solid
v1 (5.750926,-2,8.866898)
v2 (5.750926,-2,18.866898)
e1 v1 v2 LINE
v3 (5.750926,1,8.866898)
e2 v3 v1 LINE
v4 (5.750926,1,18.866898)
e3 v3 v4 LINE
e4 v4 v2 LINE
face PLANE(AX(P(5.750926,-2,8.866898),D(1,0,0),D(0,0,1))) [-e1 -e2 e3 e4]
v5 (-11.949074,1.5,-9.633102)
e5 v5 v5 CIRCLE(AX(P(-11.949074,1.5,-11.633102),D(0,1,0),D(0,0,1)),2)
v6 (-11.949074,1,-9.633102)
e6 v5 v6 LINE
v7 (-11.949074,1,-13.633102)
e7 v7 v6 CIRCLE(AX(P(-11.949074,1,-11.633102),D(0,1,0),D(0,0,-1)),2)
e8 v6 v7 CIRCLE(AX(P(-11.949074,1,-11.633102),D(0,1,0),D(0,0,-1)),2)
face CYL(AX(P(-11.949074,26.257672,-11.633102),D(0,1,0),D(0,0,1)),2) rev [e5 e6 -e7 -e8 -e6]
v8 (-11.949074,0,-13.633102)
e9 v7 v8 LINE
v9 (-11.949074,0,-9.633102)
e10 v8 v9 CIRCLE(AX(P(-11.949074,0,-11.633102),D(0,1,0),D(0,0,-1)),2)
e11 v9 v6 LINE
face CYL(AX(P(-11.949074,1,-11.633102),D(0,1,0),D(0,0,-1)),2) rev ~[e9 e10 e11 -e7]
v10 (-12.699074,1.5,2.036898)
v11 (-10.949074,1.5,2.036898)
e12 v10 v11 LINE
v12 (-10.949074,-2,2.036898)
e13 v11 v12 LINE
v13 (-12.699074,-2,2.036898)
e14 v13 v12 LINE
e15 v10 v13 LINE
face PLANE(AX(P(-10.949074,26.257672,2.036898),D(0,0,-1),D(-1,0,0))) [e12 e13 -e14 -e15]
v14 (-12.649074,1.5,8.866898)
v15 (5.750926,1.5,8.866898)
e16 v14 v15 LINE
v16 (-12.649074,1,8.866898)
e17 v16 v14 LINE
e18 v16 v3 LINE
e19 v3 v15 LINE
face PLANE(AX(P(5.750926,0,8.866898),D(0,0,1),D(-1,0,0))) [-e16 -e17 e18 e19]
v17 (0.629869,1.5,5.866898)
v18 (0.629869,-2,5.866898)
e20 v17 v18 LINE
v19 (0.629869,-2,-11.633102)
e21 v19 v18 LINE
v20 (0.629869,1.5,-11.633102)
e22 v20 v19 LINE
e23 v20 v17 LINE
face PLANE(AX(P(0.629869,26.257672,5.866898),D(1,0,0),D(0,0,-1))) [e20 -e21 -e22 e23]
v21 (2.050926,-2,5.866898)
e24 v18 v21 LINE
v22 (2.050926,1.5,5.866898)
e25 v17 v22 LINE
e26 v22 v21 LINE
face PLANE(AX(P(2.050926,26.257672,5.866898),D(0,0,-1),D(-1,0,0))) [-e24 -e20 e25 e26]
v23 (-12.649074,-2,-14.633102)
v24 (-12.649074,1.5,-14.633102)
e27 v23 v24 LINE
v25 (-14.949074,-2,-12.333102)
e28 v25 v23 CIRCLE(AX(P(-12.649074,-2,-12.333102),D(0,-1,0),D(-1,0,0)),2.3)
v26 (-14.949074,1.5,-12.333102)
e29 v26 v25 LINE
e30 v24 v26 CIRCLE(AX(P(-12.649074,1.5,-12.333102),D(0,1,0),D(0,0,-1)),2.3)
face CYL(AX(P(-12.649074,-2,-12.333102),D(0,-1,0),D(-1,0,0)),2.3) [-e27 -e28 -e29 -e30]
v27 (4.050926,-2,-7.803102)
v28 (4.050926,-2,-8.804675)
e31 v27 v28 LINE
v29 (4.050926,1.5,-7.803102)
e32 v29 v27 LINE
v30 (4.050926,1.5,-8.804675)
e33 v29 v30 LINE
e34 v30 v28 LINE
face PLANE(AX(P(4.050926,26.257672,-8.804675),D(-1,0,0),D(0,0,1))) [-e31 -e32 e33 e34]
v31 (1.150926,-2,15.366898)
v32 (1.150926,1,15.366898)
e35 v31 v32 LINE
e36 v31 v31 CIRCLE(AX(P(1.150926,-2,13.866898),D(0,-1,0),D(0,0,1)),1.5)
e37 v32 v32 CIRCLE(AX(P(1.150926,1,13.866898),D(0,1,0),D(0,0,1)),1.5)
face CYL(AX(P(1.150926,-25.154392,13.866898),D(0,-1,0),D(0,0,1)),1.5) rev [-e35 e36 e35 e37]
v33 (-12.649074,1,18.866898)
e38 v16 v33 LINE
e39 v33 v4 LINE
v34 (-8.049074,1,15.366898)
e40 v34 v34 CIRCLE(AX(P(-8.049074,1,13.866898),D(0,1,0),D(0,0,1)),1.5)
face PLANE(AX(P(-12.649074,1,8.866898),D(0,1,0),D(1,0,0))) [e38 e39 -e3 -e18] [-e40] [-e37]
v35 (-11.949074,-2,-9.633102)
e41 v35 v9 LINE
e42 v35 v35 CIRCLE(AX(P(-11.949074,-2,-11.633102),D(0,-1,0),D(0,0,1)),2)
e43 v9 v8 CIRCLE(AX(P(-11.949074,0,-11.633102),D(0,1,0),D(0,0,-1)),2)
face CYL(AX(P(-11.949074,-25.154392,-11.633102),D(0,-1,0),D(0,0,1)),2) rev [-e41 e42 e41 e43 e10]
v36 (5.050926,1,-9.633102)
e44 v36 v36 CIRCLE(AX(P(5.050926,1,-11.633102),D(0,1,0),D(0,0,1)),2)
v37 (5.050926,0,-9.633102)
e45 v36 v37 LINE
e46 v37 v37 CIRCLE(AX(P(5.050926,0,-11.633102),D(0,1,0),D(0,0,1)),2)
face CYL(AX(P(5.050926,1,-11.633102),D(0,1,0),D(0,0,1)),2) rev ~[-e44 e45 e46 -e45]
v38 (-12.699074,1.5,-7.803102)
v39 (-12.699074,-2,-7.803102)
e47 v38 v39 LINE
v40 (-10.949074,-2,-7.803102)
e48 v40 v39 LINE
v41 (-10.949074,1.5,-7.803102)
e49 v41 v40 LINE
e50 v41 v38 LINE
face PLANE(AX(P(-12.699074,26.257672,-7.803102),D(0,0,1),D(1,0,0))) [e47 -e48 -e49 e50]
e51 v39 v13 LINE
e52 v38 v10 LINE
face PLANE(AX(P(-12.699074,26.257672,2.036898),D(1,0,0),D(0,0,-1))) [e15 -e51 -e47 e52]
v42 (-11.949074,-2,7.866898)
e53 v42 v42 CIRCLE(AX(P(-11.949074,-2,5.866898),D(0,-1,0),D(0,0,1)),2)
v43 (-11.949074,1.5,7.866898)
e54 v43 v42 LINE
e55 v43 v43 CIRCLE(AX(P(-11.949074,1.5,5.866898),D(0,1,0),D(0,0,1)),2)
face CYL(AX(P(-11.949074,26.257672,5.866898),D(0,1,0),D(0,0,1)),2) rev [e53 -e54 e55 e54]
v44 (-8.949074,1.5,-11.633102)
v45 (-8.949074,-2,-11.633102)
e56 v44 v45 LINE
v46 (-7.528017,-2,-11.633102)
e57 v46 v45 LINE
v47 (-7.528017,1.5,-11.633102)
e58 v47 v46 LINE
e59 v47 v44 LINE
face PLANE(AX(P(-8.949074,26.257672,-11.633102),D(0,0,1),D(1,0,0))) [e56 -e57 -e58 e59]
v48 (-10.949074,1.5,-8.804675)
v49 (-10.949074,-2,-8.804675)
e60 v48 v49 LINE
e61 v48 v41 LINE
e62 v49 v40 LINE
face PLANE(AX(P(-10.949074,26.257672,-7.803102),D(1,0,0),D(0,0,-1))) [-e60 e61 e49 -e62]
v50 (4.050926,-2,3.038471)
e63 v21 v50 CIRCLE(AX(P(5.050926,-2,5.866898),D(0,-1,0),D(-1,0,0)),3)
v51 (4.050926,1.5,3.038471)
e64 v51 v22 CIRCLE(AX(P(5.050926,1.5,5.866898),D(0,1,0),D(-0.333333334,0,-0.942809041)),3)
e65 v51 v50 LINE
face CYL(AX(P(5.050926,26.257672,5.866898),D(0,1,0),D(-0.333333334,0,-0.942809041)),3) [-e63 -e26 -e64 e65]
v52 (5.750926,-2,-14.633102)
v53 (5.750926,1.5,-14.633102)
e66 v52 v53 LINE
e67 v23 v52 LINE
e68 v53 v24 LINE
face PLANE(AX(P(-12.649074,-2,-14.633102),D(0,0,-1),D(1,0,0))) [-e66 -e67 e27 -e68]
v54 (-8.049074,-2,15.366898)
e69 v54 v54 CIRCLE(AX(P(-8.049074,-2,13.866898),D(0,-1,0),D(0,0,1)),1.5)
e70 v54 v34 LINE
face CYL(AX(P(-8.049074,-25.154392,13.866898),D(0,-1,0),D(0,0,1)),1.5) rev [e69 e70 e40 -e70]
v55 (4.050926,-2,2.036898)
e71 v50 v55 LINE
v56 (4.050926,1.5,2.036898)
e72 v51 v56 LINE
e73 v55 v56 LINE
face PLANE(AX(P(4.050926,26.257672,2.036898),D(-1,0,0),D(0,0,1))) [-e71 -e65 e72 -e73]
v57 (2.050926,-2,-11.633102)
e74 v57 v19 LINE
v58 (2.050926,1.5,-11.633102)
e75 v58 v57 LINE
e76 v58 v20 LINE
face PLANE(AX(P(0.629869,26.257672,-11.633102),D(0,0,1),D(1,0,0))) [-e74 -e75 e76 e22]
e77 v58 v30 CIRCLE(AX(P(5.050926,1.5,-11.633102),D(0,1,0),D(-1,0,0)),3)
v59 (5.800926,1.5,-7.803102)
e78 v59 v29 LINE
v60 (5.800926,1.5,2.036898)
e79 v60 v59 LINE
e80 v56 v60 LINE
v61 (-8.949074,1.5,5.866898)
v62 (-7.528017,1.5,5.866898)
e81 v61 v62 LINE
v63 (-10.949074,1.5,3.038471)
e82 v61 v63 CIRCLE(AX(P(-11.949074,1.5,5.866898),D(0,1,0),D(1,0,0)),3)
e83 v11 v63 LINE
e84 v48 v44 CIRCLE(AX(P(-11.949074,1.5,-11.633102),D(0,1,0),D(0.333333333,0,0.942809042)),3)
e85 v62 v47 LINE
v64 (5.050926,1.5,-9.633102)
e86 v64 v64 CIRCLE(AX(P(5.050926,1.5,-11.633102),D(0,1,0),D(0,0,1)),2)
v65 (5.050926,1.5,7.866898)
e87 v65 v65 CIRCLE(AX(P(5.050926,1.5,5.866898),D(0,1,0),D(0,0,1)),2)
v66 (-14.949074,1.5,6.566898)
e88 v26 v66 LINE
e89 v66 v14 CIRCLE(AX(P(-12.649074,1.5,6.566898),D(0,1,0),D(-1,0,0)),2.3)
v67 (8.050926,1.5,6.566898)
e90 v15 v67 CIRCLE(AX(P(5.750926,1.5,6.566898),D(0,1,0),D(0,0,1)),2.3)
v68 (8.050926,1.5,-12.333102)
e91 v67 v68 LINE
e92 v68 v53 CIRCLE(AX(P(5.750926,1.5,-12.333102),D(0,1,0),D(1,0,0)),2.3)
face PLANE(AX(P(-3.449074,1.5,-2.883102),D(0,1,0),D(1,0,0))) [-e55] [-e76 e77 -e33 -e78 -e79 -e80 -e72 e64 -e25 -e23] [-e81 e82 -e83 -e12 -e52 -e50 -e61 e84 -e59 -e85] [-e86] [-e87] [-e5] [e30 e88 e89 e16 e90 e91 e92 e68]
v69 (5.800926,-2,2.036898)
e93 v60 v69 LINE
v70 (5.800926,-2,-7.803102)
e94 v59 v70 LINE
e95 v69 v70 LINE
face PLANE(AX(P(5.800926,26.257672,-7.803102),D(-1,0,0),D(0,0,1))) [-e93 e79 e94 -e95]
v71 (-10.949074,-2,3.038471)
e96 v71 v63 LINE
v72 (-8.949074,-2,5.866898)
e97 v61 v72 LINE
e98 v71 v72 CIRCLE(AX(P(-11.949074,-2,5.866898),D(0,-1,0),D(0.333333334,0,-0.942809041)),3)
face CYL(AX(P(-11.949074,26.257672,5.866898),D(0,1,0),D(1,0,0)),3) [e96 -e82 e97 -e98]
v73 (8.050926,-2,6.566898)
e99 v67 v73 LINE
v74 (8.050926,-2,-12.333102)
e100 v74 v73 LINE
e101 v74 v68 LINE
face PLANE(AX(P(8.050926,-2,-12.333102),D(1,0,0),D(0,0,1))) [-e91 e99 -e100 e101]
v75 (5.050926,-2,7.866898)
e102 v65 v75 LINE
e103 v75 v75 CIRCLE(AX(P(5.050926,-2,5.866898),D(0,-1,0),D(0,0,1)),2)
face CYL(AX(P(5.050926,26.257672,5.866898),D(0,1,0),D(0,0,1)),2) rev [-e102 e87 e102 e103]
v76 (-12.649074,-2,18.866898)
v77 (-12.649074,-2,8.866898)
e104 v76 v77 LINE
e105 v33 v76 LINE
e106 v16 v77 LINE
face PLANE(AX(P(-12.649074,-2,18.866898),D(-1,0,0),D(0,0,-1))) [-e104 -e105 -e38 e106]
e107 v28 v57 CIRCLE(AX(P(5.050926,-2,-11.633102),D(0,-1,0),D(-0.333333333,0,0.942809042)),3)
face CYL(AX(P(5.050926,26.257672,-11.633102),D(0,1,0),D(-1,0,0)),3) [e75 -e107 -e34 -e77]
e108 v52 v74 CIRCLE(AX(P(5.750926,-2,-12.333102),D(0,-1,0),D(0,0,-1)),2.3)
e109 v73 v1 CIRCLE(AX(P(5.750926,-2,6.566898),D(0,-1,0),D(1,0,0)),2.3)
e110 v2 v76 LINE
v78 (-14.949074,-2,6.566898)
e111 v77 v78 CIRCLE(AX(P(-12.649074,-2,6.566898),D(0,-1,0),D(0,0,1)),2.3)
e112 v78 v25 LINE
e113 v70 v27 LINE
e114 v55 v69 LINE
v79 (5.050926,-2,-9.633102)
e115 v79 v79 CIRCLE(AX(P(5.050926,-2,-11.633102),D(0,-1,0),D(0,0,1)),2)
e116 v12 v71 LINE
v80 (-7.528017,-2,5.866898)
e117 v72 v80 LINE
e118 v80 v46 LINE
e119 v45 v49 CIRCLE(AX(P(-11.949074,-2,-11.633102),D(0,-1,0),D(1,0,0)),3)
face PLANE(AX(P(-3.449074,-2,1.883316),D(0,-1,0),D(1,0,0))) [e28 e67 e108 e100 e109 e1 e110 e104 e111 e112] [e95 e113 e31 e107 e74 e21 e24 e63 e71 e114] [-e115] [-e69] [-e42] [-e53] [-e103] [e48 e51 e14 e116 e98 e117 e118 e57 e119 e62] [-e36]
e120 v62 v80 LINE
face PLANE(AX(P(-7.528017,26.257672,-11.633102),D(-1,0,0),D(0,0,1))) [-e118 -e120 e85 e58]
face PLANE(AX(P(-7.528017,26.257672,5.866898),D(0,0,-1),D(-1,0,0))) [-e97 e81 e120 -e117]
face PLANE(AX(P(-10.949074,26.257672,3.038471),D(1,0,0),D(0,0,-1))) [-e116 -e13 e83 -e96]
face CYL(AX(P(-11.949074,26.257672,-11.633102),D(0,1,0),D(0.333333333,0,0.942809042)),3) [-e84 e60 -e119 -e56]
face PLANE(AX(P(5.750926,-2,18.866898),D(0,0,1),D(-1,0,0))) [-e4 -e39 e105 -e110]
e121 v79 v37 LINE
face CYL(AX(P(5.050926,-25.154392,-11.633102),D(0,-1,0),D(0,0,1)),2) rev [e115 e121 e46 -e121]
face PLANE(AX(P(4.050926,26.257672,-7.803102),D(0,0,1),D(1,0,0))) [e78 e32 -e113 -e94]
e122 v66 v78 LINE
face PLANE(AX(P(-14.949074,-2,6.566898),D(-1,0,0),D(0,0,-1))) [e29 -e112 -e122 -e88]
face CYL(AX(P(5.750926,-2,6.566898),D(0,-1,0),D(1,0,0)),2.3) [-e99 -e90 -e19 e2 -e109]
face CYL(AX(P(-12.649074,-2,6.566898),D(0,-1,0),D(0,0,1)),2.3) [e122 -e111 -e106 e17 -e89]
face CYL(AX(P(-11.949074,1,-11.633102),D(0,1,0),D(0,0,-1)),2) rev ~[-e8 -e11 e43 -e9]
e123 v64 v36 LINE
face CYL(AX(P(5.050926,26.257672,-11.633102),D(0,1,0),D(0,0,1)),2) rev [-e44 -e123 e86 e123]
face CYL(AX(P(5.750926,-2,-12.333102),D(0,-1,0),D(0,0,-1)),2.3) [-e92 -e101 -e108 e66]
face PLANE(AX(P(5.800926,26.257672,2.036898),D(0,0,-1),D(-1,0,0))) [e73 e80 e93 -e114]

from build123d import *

# Parameters (mm, degrees)
BOSS_EXTRUDE1_DEPTH      = 2
CUT_EXTRUDE2_DEPTH       = 1
SKETCH5_R                = 2
CUT_EXTRUDE3_DEPTH       = 21.942838525
CUT_EXTRUDE4_DEPTH       = 21.942838525
SKETCH7_W                = 18.4
SKETCH7_H                = 1
BOSS_EXTRUDE2_DEPTH      = 10
SKETCH8_R                = 1.5
CUT_EXTRUDE5_DEPTH       = 25.092211634
CUT_EXTRUDE6_DEPTH       = 1
SKETCH11_W               = 1.421057218
SKETCH11_H               = 17.5
SKETCH11_W_2             = 1.75
SKETCH11_H_2             = 9.84
CUT_EXTRUDE7_DEPTH       = 25.092211634
BOSS_EXTRUDE3_START      = 2
BOSS_EXTRUDE3_DEPTH      = 2
CUT_EXTRUDE8_DEPTH       = 25.154392176
CUT_EXTRUDE8_DEPTH_BACK  = 25.154392176
CUT_EXTRUDE9_DEPTH       = 25.154392176
CUT_EXTRUDE9_DEPTH_BACK  = 25.154392176
CUT_EXTRUDE10_DEPTH      = 25.154392176
CUT_EXTRUDE10_DEPTH_BACK = 25.154392176
SKETCH15_R               = 1.5
CUT_EXTRUDE11_DEPTH      = 25.154392176
CUT_EXTRUDE11_DEPTH_BACK = 25.154392176
SKETCH16_R               = 1.5
CUT_EXTRUDE12_DEPTH      = 25.154392176
CUT_EXTRUDE12_DEPTH_BACK = 25.154392176
SKETCH17_R               = 2
BOSS_EXTRUDE4_START      = 1
BOSS_EXTRUDE4_DEPTH      = 1
CUT_EXTRUDE13_DEPTH      = 25.257672217
CUT_EXTRUDE13_DEPTH_BACK = 25.257672217
SKETCH19_R               = 2
CUT_EXTRUDE14_START      = -0.5
CUT_EXTRUDE14_DEPTH      = 0.5


with BuildPart() as part:
    # Sketch1 → Boss-Extrude1 (new body)
    with BuildSketch(Plane(origin=(0, 0, 0), x_dir=(1, 0, 0), z_dir=(0, 1, 0))):
        with BuildLine():
            Line((-12.649074074, 14.633101852), (5.750925926, 14.633101852))
            ThreePointArc((5.750925926, 14.633101852), (7.377271523, 13.959447449), (8.050925926, 12.333101852))
            Line((8.050925926, 12.333101852), (8.050925926, -6.566898148))
            ThreePointArc((8.050925926, -6.566898148), (7.377271523, -8.193243745), (5.750925926, -8.866898148))
            Line((5.750925926, -8.866898148), (-12.649074074, -8.866898148))
            ThreePointArc((-12.649074074, -8.866898148), (-14.275419671, -8.193243745), (-14.949074074, -6.566898148))
            Line((-14.949074074, -6.566898148), (-14.949074074, 12.333101852))
            ThreePointArc((-14.949074074, 12.333101852), (-14.275419671, 13.959447449), (-12.649074074, 14.633101852))
        make_face()
    extrude(amount=BOSS_EXTRUDE1_DEPTH)

    # Sketch2 → Cut-Extrude2 (cut)
    with BuildSketch(Plane(origin=(0, 2, 0), x_dir=(1, 0, 0), z_dir=(0, 1, 0))):
        with BuildLine():
            Line((5.750925926, 13.633101852), (-12.649074074, 13.633101852))
            ThreePointArc((-12.649074074, 13.633101852), (-13.56831289, 13.252340667), (-13.949074074, 12.333101852))
            Line((-13.949074074, 12.333101852), (-13.949074074, -6.566898148))
            ThreePointArc((-13.949074074, -6.566898148), (-13.56831289, -7.486136964), (-12.649074074, -7.866898148))
            Line((-12.649074074, -7.866898148), (5.750925926, -7.866898148))
            ThreePointArc((5.750925926, -7.866898148), (6.670164741, -7.486136964), (7.050925926, -6.566898148))
            Line((7.050925926, -6.566898148), (7.050925926, 12.333101852))
            ThreePointArc((7.050925926, 12.333101852), (6.670164741, 13.252340667), (5.750925926, 13.633101852))
        make_face()
    extrude(amount=-CUT_EXTRUDE2_DEPTH, mode=Mode.SUBTRACT)

    # Sketch5 → Cut-Extrude3 (cut, through all)
    with BuildSketch(Plane(origin=(0, 1, 0), x_dir=(1, 0, 0), z_dir=(0, 1, 0))):
        with Locations(Location((5.050925926, 11.633101852, 0), (0, 0, 270))):
            Circle(SKETCH5_R)
        with Locations(Location((5.050925926, -5.866898148, 0), (0, 0, 270))):
            Circle(SKETCH5_R)
        with Locations(Location((-11.949074074, -5.866898148, 0), (0, 0, 270))):
            Circle(SKETCH5_R)
        with Locations(Location((-11.949074074, 11.633101852, 0), (0, 0, 90))):
            Circle(SKETCH5_R)
    extrude(amount=-CUT_EXTRUDE3_DEPTH, mode=Mode.SUBTRACT)

    # Sketch6 → Cut-Extrude4 (cut, through all)
    with BuildSketch(Plane(origin=(0, 1, 0), x_dir=(1, 0, 0), z_dir=(0, 1, 0))):
        with BuildLine():
            Line((4.050925926, -3.038471023), (4.050925926, 8.804674727))
            ThreePointArc((4.050925926, 8.804674727), (2.601436183, 9.901051044), (2.050925926, 11.633101852))
            Line((2.050925926, 11.633101852), (2.050925926, -5.866898148))
            ThreePointArc((2.050925926, -5.866898148), (2.601436183, -4.134847341), (4.050925926, -3.038471023))
        make_face()
        with BuildLine():
            Line((-10.949074074, 8.804674727), (-10.949074074, -3.038471023))
            ThreePointArc((-10.949074074, -3.038471023), (-9.499584331, -4.134847341), (-8.949074074, -5.866898148))
            Line((-8.949074074, -5.866898148), (-8.949074074, 11.633101852))
            ThreePointArc((-8.949074074, 11.633101852), (-9.499584331, 9.901051044), (-10.949074074, 8.804674727))
        make_face()
    extrude(amount=-CUT_EXTRUDE4_DEPTH, mode=Mode.SUBTRACT)

    # Sketch7 → Boss-Extrude2 (add)
    with BuildSketch(Plane.XY.offset(8.866898148)):
        with Locations((-3.449074074, 0.5)):
            Rectangle(SKETCH7_W, SKETCH7_H)
    extrude(amount=BOSS_EXTRUDE2_DEPTH)

    # Sketch8 → Cut-Extrude5 (cut, through all)
    with BuildSketch(Plane(origin=(0, 1, 0), x_dir=(1, 0, 0), z_dir=(0, 1, 0))):
        with Locations(Location((1.150925926, -13.866898148, 0), (0, 0, 270))):
            Circle(SKETCH8_R)
        with Locations(Location((-8.049074074, -13.866898148, 0), (0, 0, 270))):
            Circle(SKETCH8_R)
    extrude(amount=-CUT_EXTRUDE5_DEPTH, mode=Mode.SUBTRACT)

    # Sketch9 → Cut-Extrude6 (cut)
    with BuildSketch(Plane(origin=(0, 2, 0), x_dir=(1, 0, 0), z_dir=(0, 1, 0))):
        with BuildLine():
            Line((5.750925926, 13.833101852), (-12.649074074, 13.833101852))
            ThreePointArc((-12.649074074, 13.833101852), (-13.709734246, 13.393762024), (-14.149074074, 12.333101852))
            Line((-14.149074074, 12.333101852), (-14.149074074, -6.566898148))
            ThreePointArc((-14.149074074, -6.566898148), (-13.709734246, -7.62755832), (-12.649074074, -8.066898148))
            Line((-12.649074074, -8.066898148), (5.750925926, -8.066898148))
            ThreePointArc((5.750925926, -8.066898148), (6.811586098, -7.62755832), (7.250925926, -6.566898148))
            Line((7.250925926, -6.566898148), (7.250925926, 12.333101852))
            ThreePointArc((7.250925926, 12.333101852), (6.811586098, 13.393762024), (5.750925926, 13.833101852))
        make_face()
    extrude(amount=-CUT_EXTRUDE6_DEPTH, mode=Mode.SUBTRACT)

    # Sketch11 → Cut-Extrude7 (cut, through all)
    with BuildSketch(Plane(origin=(0, 1, 0), x_dir=(1, 0, 0), z_dir=(0, 1, 0))):
        with Locations((-8.238545465, 2.883101852)):
            Rectangle(SKETCH11_W, SKETCH11_H)
        with Locations((1.340397317, 2.883101852)):
            Rectangle(SKETCH11_W, SKETCH11_H)
        with Locations((-11.824074074, 2.883101852)):
            Rectangle(SKETCH11_W_2, SKETCH11_H_2)
        with Locations((4.925925926, 2.883101852)):
            Rectangle(SKETCH11_W_2, SKETCH11_H_2)
    extrude(amount=-CUT_EXTRUDE7_DEPTH, mode=Mode.SUBTRACT)

    # Sketch12 → Boss-Extrude3 (add)
    with BuildSketch(Plane.XZ.offset(BOSS_EXTRUDE3_START)):
        with BuildLine():
            Line((8.050925926, -12.333101852), (8.050925926, 6.566898148))
            ThreePointArc((8.050925926, 6.566898148), (7.377271523, 8.193243745), (5.750925926, 8.866898148))
            Line((5.750925926, 8.866898148), (5.750925926, 18.866898148))
            Line((5.750925926, 18.866898148), (-12.649074074, 18.866898148))
            Line((-12.649074074, 18.866898148), (-12.649074074, 8.866898148))
            ThreePointArc((-12.649074074, 8.866898148), (-14.275419671, 8.193243745), (-14.949074074, 6.566898148))
            Line((-14.949074074, 6.566898148), (-14.949074074, -12.333101852))
            ThreePointArc((-14.949074074, -12.333101852), (-14.275419671, -13.959447449), (-12.649074074, -14.633101852))
            Line((-12.649074074, -14.633101852), (5.750925926, -14.633101852))
            ThreePointArc((5.750925926, -14.633101852), (7.377271523, -13.959447449), (8.050925926, -12.333101852))
        make_face()
    extrude(amount=-BOSS_EXTRUDE3_DEPTH)

    # Sketch13 → Cut-Extrude8 (cut, two sides: drawn at the far end of the back side and taken through both)
    with BuildSketch(Plane(origin=(0, 0, 0), x_dir=(1, 0, 0), z_dir=(0, 1, 0)).offset(-CUT_EXTRUDE8_DEPTH_BACK)):
        with BuildLine():
            Line((-12.699074074, 7.803101852), (-12.699074074, -2.036898148))
            Line((-12.699074074, -2.036898148), (-10.949074074, -2.036898148))
            Line((-10.949074074, -2.036898148), (-10.949074074, -3.038471023))
            ThreePointArc((-10.949074074, -3.038471023), (-9.499584331, -4.134847341), (-8.949074074, -5.866898148))
            Line((-8.949074074, -5.866898148), (-7.528016856, -5.866898148))
            Line((-7.528016856, -5.866898148), (-7.528016856, 11.633101852))
            Line((-7.528016856, 11.633101852), (-8.949074074, 11.633101852))
            ThreePointArc((-8.949074074, 11.633101852), (-9.499584331, 9.901051044), (-10.949074074, 8.804674727))
            Line((-10.949074074, 8.804674727), (-10.949074074, 7.803101852))
            Line((-10.949074074, 7.803101852), (-12.699074074, 7.803101852))
        make_face()
    extrude(amount=CUT_EXTRUDE8_DEPTH + CUT_EXTRUDE8_DEPTH_BACK, mode=Mode.SUBTRACT)

    # Sketch14 → Cut-Extrude9 (cut, two sides: drawn at the far end of the back side and taken through both)
    with BuildSketch(Plane(origin=(0, 0, 0), x_dir=(1, 0, 0), z_dir=(0, 1, 0)).offset(-CUT_EXTRUDE9_DEPTH_BACK)):
        with BuildLine():
            Line((0.629868708, -5.866898148), (2.050925926, -5.866898148))
            ThreePointArc((2.050925926, -5.866898148), (2.601436183, -4.134847341), (4.050925926, -3.038471023))
            Line((4.050925926, -3.038471023), (4.050925926, -2.036898148))
            Line((4.050925926, -2.036898148), (5.800925926, -2.036898148))
            Line((5.800925926, -2.036898148), (5.800925926, 7.803101852))
            Line((5.800925926, 7.803101852), (4.050925926, 7.803101852))
            Line((4.050925926, 7.803101852), (4.050925926, 8.804674727))
            ThreePointArc((4.050925926, 8.804674727), (2.601436183, 9.901051044), (2.050925926, 11.633101852))
            Line((2.050925926, 11.633101852), (0.629868708, 11.633101852))
            Line((0.629868708, 11.633101852), (0.629868708, -5.866898148))
        make_face()
    extrude(amount=CUT_EXTRUDE9_DEPTH + CUT_EXTRUDE9_DEPTH_BACK, mode=Mode.SUBTRACT)

    # Sketch15 → Cut-Extrude10 (cut, two sides: drawn at the far end of the back side and taken through both)
    with BuildSketch(Plane(origin=(0, 0, 0), x_dir=(1, 0, 0), z_dir=(0, 1, 0)).offset(-CUT_EXTRUDE10_DEPTH_BACK)):
        with Locations(Location((-8.049074074, -13.866898148, 0), (0, 0, 270))):
            Circle(SKETCH15_R)
    extrude(amount=CUT_EXTRUDE10_DEPTH + CUT_EXTRUDE10_DEPTH_BACK, mode=Mode.SUBTRACT)

    # Sketch16 → Cut-Extrude11 (cut, two sides: drawn at the far end of the back side and taken through both)
    with BuildSketch(Plane(origin=(0, 0, 0), x_dir=(1, 0, 0), z_dir=(0, 1, 0)).offset(-CUT_EXTRUDE11_DEPTH_BACK)):
        with Locations(Location((1.150925926, -13.866898148, 0), (0, 0, 270))):
            Circle(SKETCH16_R)
    extrude(amount=CUT_EXTRUDE11_DEPTH + CUT_EXTRUDE11_DEPTH_BACK, mode=Mode.SUBTRACT)

    # Sketch17 → Cut-Extrude12 (cut, two sides: drawn at the far end of the back side and taken through both)
    with BuildSketch(Plane(origin=(0, 0, 0), x_dir=(1, 0, 0), z_dir=(0, 1, 0)).offset(-CUT_EXTRUDE12_DEPTH_BACK)):
        with Locations(Location((-11.949074074, -5.866898148, 0), (0, 0, 270))):
            Circle(SKETCH17_R)
        with Locations(Location((5.050925926, -5.866898148, 0), (0, 0, 270))):
            Circle(SKETCH17_R)
        with Locations(Location((-11.949074074, 11.633101852, 0), (0, 0, 270))):
            Circle(SKETCH17_R)
        with Locations(Location((5.050925926, 11.633101852, 0), (0, 0, 270))):
            Circle(SKETCH17_R)
    extrude(amount=CUT_EXTRUDE12_DEPTH + CUT_EXTRUDE12_DEPTH_BACK, mode=Mode.SUBTRACT)

    # Sketch18 → Boss-Extrude4 (add)
    with BuildSketch(Plane(origin=(0, 1, 0), x_dir=(1, 0, 0), z_dir=(0, 1, 0)).offset(BOSS_EXTRUDE4_START)):
        with BuildLine():
            Line((5.750925926, 13.833101852), (-12.649074074, 13.833101852))
            ThreePointArc((-12.649074074, 13.833101852), (-13.709734246, 13.393762024), (-14.149074074, 12.333101852))
            Line((-14.149074074, 12.333101852), (-14.149074074, -6.566898148))
            ThreePointArc((-14.149074074, -6.566898148), (-13.709734246, -7.62755832), (-12.649074074, -8.066898148))
            Line((-12.649074074, -8.066898148), (5.750925926, -8.066898148))
            ThreePointArc((5.750925926, -8.066898148), (6.811586098, -7.62755832), (7.250925926, -6.566898148))
            Line((7.250925926, -6.566898148), (7.250925926, 12.333101852))
            ThreePointArc((7.250925926, 12.333101852), (6.811586098, 13.393762024), (5.750925926, 13.833101852))
        make_face()
    extrude(amount=-BOSS_EXTRUDE4_DEPTH)

    # Sketch19 → Cut-Extrude13 (cut, two sides: drawn at the far end of the back side and taken through both)
    with BuildSketch(Plane.XZ.offset(-1).offset(-CUT_EXTRUDE13_DEPTH_BACK)):
        with Locations(Location((5.050925926, -11.633101852, 0), (0, 0, 90))):
            Circle(SKETCH19_R)
        with Locations(Location((-11.949074074, -11.633101852, 0), (0, 0, 90))):
            Circle(SKETCH19_R)
        with Locations(Location((-11.949074074, 5.866898148, 0), (0, 0, 90))):
            Circle(SKETCH19_R)
        with Locations(Location((5.050925926, 5.866898148, 0), (0, 0, 90))):
            Circle(SKETCH19_R)
        with BuildLine():
            Line((-10.949074074, 3.038471023), (-10.949074074, 2.036898148))
            Line((-10.949074074, 2.036898148), (-12.699074074, 2.036898148))
            Line((-12.699074074, 2.036898148), (-12.699074074, -7.803101852))
            Line((-12.699074074, -7.803101852), (-10.949074074, -7.803101852))
            Line((-10.949074074, -7.803101852), (-10.949074074, -8.804674727))
            ThreePointArc((-10.949074074, -8.804674727), (-9.499584331, -9.901051044), (-8.949074074, -11.633101852))
            Line((-8.949074074, -11.633101852), (-7.528016856, -11.633101852))
            Line((-7.528016856, -11.633101852), (-7.528016856, 5.866898148))
            Line((-7.528016856, 5.866898148), (-8.949074074, 5.866898148))
            ThreePointArc((-8.949074074, 5.866898148), (-9.499584331, 4.134847341), (-10.949074074, 3.038471023))
        make_face()
        with BuildLine():
            Line((4.050925926, 2.036898148), (4.050925926, 3.038471023))
            ThreePointArc((4.050925926, 3.038471023), (2.601436183, 4.134847341), (2.050925926, 5.866898148))
            Line((2.050925926, 5.866898148), (0.629868708, 5.866898148))
            Line((0.629868708, 5.866898148), (0.629868708, -11.633101852))
            Line((0.629868708, -11.633101852), (2.050925926, -11.633101852))
            ThreePointArc((2.050925926, -11.633101852), (2.601436183, -9.901051044), (4.050925926, -8.804674727))
            Line((4.050925926, -8.804674727), (4.050925926, -7.803101852))
            Line((4.050925926, -7.803101852), (5.800925926, -7.803101852))
            Line((5.800925926, -7.803101852), (5.800925926, 2.036898148))
            Line((5.800925926, 2.036898148), (4.050925926, 2.036898148))
        make_face()
    extrude(amount=CUT_EXTRUDE13_DEPTH + CUT_EXTRUDE13_DEPTH_BACK, mode=Mode.SUBTRACT)

    # Sketch20 → Cut-Extrude14 (cut)
    with BuildSketch(Plane(origin=(0, 2, 0), x_dir=(1, 0, 0), z_dir=(0, 1, 0)).offset(CUT_EXTRUDE14_START)):
        with BuildLine():
            Line((5.750925926, 14.633101852), (-12.649074074, 14.633101852))
            ThreePointArc((-12.649074074, 14.633101852), (-14.275419671, 13.959447449), (-14.949074074, 12.333101852))
            Line((-14.949074074, 12.333101852), (-14.949074074, -6.566898148))
            ThreePointArc((-14.949074074, -6.566898148), (-14.275419671, -8.193243745), (-12.649074074, -8.866898148))
            Line((-12.649074074, -8.866898148), (5.750925926, -8.866898148))
            ThreePointArc((5.750925926, -8.866898148), (7.377271523, -8.193243745), (8.050925926, -6.566898148))
            Line((8.050925926, -6.566898148), (8.050925926, 12.333101852))
            ThreePointArc((8.050925926, 12.333101852), (7.377271523, 13.959447449), (5.750925926, 14.633101852))
        make_face()
    extrude(amount=CUT_EXTRUDE14_DEPTH, mode=Mode.SUBTRACT)


solid = part.part
